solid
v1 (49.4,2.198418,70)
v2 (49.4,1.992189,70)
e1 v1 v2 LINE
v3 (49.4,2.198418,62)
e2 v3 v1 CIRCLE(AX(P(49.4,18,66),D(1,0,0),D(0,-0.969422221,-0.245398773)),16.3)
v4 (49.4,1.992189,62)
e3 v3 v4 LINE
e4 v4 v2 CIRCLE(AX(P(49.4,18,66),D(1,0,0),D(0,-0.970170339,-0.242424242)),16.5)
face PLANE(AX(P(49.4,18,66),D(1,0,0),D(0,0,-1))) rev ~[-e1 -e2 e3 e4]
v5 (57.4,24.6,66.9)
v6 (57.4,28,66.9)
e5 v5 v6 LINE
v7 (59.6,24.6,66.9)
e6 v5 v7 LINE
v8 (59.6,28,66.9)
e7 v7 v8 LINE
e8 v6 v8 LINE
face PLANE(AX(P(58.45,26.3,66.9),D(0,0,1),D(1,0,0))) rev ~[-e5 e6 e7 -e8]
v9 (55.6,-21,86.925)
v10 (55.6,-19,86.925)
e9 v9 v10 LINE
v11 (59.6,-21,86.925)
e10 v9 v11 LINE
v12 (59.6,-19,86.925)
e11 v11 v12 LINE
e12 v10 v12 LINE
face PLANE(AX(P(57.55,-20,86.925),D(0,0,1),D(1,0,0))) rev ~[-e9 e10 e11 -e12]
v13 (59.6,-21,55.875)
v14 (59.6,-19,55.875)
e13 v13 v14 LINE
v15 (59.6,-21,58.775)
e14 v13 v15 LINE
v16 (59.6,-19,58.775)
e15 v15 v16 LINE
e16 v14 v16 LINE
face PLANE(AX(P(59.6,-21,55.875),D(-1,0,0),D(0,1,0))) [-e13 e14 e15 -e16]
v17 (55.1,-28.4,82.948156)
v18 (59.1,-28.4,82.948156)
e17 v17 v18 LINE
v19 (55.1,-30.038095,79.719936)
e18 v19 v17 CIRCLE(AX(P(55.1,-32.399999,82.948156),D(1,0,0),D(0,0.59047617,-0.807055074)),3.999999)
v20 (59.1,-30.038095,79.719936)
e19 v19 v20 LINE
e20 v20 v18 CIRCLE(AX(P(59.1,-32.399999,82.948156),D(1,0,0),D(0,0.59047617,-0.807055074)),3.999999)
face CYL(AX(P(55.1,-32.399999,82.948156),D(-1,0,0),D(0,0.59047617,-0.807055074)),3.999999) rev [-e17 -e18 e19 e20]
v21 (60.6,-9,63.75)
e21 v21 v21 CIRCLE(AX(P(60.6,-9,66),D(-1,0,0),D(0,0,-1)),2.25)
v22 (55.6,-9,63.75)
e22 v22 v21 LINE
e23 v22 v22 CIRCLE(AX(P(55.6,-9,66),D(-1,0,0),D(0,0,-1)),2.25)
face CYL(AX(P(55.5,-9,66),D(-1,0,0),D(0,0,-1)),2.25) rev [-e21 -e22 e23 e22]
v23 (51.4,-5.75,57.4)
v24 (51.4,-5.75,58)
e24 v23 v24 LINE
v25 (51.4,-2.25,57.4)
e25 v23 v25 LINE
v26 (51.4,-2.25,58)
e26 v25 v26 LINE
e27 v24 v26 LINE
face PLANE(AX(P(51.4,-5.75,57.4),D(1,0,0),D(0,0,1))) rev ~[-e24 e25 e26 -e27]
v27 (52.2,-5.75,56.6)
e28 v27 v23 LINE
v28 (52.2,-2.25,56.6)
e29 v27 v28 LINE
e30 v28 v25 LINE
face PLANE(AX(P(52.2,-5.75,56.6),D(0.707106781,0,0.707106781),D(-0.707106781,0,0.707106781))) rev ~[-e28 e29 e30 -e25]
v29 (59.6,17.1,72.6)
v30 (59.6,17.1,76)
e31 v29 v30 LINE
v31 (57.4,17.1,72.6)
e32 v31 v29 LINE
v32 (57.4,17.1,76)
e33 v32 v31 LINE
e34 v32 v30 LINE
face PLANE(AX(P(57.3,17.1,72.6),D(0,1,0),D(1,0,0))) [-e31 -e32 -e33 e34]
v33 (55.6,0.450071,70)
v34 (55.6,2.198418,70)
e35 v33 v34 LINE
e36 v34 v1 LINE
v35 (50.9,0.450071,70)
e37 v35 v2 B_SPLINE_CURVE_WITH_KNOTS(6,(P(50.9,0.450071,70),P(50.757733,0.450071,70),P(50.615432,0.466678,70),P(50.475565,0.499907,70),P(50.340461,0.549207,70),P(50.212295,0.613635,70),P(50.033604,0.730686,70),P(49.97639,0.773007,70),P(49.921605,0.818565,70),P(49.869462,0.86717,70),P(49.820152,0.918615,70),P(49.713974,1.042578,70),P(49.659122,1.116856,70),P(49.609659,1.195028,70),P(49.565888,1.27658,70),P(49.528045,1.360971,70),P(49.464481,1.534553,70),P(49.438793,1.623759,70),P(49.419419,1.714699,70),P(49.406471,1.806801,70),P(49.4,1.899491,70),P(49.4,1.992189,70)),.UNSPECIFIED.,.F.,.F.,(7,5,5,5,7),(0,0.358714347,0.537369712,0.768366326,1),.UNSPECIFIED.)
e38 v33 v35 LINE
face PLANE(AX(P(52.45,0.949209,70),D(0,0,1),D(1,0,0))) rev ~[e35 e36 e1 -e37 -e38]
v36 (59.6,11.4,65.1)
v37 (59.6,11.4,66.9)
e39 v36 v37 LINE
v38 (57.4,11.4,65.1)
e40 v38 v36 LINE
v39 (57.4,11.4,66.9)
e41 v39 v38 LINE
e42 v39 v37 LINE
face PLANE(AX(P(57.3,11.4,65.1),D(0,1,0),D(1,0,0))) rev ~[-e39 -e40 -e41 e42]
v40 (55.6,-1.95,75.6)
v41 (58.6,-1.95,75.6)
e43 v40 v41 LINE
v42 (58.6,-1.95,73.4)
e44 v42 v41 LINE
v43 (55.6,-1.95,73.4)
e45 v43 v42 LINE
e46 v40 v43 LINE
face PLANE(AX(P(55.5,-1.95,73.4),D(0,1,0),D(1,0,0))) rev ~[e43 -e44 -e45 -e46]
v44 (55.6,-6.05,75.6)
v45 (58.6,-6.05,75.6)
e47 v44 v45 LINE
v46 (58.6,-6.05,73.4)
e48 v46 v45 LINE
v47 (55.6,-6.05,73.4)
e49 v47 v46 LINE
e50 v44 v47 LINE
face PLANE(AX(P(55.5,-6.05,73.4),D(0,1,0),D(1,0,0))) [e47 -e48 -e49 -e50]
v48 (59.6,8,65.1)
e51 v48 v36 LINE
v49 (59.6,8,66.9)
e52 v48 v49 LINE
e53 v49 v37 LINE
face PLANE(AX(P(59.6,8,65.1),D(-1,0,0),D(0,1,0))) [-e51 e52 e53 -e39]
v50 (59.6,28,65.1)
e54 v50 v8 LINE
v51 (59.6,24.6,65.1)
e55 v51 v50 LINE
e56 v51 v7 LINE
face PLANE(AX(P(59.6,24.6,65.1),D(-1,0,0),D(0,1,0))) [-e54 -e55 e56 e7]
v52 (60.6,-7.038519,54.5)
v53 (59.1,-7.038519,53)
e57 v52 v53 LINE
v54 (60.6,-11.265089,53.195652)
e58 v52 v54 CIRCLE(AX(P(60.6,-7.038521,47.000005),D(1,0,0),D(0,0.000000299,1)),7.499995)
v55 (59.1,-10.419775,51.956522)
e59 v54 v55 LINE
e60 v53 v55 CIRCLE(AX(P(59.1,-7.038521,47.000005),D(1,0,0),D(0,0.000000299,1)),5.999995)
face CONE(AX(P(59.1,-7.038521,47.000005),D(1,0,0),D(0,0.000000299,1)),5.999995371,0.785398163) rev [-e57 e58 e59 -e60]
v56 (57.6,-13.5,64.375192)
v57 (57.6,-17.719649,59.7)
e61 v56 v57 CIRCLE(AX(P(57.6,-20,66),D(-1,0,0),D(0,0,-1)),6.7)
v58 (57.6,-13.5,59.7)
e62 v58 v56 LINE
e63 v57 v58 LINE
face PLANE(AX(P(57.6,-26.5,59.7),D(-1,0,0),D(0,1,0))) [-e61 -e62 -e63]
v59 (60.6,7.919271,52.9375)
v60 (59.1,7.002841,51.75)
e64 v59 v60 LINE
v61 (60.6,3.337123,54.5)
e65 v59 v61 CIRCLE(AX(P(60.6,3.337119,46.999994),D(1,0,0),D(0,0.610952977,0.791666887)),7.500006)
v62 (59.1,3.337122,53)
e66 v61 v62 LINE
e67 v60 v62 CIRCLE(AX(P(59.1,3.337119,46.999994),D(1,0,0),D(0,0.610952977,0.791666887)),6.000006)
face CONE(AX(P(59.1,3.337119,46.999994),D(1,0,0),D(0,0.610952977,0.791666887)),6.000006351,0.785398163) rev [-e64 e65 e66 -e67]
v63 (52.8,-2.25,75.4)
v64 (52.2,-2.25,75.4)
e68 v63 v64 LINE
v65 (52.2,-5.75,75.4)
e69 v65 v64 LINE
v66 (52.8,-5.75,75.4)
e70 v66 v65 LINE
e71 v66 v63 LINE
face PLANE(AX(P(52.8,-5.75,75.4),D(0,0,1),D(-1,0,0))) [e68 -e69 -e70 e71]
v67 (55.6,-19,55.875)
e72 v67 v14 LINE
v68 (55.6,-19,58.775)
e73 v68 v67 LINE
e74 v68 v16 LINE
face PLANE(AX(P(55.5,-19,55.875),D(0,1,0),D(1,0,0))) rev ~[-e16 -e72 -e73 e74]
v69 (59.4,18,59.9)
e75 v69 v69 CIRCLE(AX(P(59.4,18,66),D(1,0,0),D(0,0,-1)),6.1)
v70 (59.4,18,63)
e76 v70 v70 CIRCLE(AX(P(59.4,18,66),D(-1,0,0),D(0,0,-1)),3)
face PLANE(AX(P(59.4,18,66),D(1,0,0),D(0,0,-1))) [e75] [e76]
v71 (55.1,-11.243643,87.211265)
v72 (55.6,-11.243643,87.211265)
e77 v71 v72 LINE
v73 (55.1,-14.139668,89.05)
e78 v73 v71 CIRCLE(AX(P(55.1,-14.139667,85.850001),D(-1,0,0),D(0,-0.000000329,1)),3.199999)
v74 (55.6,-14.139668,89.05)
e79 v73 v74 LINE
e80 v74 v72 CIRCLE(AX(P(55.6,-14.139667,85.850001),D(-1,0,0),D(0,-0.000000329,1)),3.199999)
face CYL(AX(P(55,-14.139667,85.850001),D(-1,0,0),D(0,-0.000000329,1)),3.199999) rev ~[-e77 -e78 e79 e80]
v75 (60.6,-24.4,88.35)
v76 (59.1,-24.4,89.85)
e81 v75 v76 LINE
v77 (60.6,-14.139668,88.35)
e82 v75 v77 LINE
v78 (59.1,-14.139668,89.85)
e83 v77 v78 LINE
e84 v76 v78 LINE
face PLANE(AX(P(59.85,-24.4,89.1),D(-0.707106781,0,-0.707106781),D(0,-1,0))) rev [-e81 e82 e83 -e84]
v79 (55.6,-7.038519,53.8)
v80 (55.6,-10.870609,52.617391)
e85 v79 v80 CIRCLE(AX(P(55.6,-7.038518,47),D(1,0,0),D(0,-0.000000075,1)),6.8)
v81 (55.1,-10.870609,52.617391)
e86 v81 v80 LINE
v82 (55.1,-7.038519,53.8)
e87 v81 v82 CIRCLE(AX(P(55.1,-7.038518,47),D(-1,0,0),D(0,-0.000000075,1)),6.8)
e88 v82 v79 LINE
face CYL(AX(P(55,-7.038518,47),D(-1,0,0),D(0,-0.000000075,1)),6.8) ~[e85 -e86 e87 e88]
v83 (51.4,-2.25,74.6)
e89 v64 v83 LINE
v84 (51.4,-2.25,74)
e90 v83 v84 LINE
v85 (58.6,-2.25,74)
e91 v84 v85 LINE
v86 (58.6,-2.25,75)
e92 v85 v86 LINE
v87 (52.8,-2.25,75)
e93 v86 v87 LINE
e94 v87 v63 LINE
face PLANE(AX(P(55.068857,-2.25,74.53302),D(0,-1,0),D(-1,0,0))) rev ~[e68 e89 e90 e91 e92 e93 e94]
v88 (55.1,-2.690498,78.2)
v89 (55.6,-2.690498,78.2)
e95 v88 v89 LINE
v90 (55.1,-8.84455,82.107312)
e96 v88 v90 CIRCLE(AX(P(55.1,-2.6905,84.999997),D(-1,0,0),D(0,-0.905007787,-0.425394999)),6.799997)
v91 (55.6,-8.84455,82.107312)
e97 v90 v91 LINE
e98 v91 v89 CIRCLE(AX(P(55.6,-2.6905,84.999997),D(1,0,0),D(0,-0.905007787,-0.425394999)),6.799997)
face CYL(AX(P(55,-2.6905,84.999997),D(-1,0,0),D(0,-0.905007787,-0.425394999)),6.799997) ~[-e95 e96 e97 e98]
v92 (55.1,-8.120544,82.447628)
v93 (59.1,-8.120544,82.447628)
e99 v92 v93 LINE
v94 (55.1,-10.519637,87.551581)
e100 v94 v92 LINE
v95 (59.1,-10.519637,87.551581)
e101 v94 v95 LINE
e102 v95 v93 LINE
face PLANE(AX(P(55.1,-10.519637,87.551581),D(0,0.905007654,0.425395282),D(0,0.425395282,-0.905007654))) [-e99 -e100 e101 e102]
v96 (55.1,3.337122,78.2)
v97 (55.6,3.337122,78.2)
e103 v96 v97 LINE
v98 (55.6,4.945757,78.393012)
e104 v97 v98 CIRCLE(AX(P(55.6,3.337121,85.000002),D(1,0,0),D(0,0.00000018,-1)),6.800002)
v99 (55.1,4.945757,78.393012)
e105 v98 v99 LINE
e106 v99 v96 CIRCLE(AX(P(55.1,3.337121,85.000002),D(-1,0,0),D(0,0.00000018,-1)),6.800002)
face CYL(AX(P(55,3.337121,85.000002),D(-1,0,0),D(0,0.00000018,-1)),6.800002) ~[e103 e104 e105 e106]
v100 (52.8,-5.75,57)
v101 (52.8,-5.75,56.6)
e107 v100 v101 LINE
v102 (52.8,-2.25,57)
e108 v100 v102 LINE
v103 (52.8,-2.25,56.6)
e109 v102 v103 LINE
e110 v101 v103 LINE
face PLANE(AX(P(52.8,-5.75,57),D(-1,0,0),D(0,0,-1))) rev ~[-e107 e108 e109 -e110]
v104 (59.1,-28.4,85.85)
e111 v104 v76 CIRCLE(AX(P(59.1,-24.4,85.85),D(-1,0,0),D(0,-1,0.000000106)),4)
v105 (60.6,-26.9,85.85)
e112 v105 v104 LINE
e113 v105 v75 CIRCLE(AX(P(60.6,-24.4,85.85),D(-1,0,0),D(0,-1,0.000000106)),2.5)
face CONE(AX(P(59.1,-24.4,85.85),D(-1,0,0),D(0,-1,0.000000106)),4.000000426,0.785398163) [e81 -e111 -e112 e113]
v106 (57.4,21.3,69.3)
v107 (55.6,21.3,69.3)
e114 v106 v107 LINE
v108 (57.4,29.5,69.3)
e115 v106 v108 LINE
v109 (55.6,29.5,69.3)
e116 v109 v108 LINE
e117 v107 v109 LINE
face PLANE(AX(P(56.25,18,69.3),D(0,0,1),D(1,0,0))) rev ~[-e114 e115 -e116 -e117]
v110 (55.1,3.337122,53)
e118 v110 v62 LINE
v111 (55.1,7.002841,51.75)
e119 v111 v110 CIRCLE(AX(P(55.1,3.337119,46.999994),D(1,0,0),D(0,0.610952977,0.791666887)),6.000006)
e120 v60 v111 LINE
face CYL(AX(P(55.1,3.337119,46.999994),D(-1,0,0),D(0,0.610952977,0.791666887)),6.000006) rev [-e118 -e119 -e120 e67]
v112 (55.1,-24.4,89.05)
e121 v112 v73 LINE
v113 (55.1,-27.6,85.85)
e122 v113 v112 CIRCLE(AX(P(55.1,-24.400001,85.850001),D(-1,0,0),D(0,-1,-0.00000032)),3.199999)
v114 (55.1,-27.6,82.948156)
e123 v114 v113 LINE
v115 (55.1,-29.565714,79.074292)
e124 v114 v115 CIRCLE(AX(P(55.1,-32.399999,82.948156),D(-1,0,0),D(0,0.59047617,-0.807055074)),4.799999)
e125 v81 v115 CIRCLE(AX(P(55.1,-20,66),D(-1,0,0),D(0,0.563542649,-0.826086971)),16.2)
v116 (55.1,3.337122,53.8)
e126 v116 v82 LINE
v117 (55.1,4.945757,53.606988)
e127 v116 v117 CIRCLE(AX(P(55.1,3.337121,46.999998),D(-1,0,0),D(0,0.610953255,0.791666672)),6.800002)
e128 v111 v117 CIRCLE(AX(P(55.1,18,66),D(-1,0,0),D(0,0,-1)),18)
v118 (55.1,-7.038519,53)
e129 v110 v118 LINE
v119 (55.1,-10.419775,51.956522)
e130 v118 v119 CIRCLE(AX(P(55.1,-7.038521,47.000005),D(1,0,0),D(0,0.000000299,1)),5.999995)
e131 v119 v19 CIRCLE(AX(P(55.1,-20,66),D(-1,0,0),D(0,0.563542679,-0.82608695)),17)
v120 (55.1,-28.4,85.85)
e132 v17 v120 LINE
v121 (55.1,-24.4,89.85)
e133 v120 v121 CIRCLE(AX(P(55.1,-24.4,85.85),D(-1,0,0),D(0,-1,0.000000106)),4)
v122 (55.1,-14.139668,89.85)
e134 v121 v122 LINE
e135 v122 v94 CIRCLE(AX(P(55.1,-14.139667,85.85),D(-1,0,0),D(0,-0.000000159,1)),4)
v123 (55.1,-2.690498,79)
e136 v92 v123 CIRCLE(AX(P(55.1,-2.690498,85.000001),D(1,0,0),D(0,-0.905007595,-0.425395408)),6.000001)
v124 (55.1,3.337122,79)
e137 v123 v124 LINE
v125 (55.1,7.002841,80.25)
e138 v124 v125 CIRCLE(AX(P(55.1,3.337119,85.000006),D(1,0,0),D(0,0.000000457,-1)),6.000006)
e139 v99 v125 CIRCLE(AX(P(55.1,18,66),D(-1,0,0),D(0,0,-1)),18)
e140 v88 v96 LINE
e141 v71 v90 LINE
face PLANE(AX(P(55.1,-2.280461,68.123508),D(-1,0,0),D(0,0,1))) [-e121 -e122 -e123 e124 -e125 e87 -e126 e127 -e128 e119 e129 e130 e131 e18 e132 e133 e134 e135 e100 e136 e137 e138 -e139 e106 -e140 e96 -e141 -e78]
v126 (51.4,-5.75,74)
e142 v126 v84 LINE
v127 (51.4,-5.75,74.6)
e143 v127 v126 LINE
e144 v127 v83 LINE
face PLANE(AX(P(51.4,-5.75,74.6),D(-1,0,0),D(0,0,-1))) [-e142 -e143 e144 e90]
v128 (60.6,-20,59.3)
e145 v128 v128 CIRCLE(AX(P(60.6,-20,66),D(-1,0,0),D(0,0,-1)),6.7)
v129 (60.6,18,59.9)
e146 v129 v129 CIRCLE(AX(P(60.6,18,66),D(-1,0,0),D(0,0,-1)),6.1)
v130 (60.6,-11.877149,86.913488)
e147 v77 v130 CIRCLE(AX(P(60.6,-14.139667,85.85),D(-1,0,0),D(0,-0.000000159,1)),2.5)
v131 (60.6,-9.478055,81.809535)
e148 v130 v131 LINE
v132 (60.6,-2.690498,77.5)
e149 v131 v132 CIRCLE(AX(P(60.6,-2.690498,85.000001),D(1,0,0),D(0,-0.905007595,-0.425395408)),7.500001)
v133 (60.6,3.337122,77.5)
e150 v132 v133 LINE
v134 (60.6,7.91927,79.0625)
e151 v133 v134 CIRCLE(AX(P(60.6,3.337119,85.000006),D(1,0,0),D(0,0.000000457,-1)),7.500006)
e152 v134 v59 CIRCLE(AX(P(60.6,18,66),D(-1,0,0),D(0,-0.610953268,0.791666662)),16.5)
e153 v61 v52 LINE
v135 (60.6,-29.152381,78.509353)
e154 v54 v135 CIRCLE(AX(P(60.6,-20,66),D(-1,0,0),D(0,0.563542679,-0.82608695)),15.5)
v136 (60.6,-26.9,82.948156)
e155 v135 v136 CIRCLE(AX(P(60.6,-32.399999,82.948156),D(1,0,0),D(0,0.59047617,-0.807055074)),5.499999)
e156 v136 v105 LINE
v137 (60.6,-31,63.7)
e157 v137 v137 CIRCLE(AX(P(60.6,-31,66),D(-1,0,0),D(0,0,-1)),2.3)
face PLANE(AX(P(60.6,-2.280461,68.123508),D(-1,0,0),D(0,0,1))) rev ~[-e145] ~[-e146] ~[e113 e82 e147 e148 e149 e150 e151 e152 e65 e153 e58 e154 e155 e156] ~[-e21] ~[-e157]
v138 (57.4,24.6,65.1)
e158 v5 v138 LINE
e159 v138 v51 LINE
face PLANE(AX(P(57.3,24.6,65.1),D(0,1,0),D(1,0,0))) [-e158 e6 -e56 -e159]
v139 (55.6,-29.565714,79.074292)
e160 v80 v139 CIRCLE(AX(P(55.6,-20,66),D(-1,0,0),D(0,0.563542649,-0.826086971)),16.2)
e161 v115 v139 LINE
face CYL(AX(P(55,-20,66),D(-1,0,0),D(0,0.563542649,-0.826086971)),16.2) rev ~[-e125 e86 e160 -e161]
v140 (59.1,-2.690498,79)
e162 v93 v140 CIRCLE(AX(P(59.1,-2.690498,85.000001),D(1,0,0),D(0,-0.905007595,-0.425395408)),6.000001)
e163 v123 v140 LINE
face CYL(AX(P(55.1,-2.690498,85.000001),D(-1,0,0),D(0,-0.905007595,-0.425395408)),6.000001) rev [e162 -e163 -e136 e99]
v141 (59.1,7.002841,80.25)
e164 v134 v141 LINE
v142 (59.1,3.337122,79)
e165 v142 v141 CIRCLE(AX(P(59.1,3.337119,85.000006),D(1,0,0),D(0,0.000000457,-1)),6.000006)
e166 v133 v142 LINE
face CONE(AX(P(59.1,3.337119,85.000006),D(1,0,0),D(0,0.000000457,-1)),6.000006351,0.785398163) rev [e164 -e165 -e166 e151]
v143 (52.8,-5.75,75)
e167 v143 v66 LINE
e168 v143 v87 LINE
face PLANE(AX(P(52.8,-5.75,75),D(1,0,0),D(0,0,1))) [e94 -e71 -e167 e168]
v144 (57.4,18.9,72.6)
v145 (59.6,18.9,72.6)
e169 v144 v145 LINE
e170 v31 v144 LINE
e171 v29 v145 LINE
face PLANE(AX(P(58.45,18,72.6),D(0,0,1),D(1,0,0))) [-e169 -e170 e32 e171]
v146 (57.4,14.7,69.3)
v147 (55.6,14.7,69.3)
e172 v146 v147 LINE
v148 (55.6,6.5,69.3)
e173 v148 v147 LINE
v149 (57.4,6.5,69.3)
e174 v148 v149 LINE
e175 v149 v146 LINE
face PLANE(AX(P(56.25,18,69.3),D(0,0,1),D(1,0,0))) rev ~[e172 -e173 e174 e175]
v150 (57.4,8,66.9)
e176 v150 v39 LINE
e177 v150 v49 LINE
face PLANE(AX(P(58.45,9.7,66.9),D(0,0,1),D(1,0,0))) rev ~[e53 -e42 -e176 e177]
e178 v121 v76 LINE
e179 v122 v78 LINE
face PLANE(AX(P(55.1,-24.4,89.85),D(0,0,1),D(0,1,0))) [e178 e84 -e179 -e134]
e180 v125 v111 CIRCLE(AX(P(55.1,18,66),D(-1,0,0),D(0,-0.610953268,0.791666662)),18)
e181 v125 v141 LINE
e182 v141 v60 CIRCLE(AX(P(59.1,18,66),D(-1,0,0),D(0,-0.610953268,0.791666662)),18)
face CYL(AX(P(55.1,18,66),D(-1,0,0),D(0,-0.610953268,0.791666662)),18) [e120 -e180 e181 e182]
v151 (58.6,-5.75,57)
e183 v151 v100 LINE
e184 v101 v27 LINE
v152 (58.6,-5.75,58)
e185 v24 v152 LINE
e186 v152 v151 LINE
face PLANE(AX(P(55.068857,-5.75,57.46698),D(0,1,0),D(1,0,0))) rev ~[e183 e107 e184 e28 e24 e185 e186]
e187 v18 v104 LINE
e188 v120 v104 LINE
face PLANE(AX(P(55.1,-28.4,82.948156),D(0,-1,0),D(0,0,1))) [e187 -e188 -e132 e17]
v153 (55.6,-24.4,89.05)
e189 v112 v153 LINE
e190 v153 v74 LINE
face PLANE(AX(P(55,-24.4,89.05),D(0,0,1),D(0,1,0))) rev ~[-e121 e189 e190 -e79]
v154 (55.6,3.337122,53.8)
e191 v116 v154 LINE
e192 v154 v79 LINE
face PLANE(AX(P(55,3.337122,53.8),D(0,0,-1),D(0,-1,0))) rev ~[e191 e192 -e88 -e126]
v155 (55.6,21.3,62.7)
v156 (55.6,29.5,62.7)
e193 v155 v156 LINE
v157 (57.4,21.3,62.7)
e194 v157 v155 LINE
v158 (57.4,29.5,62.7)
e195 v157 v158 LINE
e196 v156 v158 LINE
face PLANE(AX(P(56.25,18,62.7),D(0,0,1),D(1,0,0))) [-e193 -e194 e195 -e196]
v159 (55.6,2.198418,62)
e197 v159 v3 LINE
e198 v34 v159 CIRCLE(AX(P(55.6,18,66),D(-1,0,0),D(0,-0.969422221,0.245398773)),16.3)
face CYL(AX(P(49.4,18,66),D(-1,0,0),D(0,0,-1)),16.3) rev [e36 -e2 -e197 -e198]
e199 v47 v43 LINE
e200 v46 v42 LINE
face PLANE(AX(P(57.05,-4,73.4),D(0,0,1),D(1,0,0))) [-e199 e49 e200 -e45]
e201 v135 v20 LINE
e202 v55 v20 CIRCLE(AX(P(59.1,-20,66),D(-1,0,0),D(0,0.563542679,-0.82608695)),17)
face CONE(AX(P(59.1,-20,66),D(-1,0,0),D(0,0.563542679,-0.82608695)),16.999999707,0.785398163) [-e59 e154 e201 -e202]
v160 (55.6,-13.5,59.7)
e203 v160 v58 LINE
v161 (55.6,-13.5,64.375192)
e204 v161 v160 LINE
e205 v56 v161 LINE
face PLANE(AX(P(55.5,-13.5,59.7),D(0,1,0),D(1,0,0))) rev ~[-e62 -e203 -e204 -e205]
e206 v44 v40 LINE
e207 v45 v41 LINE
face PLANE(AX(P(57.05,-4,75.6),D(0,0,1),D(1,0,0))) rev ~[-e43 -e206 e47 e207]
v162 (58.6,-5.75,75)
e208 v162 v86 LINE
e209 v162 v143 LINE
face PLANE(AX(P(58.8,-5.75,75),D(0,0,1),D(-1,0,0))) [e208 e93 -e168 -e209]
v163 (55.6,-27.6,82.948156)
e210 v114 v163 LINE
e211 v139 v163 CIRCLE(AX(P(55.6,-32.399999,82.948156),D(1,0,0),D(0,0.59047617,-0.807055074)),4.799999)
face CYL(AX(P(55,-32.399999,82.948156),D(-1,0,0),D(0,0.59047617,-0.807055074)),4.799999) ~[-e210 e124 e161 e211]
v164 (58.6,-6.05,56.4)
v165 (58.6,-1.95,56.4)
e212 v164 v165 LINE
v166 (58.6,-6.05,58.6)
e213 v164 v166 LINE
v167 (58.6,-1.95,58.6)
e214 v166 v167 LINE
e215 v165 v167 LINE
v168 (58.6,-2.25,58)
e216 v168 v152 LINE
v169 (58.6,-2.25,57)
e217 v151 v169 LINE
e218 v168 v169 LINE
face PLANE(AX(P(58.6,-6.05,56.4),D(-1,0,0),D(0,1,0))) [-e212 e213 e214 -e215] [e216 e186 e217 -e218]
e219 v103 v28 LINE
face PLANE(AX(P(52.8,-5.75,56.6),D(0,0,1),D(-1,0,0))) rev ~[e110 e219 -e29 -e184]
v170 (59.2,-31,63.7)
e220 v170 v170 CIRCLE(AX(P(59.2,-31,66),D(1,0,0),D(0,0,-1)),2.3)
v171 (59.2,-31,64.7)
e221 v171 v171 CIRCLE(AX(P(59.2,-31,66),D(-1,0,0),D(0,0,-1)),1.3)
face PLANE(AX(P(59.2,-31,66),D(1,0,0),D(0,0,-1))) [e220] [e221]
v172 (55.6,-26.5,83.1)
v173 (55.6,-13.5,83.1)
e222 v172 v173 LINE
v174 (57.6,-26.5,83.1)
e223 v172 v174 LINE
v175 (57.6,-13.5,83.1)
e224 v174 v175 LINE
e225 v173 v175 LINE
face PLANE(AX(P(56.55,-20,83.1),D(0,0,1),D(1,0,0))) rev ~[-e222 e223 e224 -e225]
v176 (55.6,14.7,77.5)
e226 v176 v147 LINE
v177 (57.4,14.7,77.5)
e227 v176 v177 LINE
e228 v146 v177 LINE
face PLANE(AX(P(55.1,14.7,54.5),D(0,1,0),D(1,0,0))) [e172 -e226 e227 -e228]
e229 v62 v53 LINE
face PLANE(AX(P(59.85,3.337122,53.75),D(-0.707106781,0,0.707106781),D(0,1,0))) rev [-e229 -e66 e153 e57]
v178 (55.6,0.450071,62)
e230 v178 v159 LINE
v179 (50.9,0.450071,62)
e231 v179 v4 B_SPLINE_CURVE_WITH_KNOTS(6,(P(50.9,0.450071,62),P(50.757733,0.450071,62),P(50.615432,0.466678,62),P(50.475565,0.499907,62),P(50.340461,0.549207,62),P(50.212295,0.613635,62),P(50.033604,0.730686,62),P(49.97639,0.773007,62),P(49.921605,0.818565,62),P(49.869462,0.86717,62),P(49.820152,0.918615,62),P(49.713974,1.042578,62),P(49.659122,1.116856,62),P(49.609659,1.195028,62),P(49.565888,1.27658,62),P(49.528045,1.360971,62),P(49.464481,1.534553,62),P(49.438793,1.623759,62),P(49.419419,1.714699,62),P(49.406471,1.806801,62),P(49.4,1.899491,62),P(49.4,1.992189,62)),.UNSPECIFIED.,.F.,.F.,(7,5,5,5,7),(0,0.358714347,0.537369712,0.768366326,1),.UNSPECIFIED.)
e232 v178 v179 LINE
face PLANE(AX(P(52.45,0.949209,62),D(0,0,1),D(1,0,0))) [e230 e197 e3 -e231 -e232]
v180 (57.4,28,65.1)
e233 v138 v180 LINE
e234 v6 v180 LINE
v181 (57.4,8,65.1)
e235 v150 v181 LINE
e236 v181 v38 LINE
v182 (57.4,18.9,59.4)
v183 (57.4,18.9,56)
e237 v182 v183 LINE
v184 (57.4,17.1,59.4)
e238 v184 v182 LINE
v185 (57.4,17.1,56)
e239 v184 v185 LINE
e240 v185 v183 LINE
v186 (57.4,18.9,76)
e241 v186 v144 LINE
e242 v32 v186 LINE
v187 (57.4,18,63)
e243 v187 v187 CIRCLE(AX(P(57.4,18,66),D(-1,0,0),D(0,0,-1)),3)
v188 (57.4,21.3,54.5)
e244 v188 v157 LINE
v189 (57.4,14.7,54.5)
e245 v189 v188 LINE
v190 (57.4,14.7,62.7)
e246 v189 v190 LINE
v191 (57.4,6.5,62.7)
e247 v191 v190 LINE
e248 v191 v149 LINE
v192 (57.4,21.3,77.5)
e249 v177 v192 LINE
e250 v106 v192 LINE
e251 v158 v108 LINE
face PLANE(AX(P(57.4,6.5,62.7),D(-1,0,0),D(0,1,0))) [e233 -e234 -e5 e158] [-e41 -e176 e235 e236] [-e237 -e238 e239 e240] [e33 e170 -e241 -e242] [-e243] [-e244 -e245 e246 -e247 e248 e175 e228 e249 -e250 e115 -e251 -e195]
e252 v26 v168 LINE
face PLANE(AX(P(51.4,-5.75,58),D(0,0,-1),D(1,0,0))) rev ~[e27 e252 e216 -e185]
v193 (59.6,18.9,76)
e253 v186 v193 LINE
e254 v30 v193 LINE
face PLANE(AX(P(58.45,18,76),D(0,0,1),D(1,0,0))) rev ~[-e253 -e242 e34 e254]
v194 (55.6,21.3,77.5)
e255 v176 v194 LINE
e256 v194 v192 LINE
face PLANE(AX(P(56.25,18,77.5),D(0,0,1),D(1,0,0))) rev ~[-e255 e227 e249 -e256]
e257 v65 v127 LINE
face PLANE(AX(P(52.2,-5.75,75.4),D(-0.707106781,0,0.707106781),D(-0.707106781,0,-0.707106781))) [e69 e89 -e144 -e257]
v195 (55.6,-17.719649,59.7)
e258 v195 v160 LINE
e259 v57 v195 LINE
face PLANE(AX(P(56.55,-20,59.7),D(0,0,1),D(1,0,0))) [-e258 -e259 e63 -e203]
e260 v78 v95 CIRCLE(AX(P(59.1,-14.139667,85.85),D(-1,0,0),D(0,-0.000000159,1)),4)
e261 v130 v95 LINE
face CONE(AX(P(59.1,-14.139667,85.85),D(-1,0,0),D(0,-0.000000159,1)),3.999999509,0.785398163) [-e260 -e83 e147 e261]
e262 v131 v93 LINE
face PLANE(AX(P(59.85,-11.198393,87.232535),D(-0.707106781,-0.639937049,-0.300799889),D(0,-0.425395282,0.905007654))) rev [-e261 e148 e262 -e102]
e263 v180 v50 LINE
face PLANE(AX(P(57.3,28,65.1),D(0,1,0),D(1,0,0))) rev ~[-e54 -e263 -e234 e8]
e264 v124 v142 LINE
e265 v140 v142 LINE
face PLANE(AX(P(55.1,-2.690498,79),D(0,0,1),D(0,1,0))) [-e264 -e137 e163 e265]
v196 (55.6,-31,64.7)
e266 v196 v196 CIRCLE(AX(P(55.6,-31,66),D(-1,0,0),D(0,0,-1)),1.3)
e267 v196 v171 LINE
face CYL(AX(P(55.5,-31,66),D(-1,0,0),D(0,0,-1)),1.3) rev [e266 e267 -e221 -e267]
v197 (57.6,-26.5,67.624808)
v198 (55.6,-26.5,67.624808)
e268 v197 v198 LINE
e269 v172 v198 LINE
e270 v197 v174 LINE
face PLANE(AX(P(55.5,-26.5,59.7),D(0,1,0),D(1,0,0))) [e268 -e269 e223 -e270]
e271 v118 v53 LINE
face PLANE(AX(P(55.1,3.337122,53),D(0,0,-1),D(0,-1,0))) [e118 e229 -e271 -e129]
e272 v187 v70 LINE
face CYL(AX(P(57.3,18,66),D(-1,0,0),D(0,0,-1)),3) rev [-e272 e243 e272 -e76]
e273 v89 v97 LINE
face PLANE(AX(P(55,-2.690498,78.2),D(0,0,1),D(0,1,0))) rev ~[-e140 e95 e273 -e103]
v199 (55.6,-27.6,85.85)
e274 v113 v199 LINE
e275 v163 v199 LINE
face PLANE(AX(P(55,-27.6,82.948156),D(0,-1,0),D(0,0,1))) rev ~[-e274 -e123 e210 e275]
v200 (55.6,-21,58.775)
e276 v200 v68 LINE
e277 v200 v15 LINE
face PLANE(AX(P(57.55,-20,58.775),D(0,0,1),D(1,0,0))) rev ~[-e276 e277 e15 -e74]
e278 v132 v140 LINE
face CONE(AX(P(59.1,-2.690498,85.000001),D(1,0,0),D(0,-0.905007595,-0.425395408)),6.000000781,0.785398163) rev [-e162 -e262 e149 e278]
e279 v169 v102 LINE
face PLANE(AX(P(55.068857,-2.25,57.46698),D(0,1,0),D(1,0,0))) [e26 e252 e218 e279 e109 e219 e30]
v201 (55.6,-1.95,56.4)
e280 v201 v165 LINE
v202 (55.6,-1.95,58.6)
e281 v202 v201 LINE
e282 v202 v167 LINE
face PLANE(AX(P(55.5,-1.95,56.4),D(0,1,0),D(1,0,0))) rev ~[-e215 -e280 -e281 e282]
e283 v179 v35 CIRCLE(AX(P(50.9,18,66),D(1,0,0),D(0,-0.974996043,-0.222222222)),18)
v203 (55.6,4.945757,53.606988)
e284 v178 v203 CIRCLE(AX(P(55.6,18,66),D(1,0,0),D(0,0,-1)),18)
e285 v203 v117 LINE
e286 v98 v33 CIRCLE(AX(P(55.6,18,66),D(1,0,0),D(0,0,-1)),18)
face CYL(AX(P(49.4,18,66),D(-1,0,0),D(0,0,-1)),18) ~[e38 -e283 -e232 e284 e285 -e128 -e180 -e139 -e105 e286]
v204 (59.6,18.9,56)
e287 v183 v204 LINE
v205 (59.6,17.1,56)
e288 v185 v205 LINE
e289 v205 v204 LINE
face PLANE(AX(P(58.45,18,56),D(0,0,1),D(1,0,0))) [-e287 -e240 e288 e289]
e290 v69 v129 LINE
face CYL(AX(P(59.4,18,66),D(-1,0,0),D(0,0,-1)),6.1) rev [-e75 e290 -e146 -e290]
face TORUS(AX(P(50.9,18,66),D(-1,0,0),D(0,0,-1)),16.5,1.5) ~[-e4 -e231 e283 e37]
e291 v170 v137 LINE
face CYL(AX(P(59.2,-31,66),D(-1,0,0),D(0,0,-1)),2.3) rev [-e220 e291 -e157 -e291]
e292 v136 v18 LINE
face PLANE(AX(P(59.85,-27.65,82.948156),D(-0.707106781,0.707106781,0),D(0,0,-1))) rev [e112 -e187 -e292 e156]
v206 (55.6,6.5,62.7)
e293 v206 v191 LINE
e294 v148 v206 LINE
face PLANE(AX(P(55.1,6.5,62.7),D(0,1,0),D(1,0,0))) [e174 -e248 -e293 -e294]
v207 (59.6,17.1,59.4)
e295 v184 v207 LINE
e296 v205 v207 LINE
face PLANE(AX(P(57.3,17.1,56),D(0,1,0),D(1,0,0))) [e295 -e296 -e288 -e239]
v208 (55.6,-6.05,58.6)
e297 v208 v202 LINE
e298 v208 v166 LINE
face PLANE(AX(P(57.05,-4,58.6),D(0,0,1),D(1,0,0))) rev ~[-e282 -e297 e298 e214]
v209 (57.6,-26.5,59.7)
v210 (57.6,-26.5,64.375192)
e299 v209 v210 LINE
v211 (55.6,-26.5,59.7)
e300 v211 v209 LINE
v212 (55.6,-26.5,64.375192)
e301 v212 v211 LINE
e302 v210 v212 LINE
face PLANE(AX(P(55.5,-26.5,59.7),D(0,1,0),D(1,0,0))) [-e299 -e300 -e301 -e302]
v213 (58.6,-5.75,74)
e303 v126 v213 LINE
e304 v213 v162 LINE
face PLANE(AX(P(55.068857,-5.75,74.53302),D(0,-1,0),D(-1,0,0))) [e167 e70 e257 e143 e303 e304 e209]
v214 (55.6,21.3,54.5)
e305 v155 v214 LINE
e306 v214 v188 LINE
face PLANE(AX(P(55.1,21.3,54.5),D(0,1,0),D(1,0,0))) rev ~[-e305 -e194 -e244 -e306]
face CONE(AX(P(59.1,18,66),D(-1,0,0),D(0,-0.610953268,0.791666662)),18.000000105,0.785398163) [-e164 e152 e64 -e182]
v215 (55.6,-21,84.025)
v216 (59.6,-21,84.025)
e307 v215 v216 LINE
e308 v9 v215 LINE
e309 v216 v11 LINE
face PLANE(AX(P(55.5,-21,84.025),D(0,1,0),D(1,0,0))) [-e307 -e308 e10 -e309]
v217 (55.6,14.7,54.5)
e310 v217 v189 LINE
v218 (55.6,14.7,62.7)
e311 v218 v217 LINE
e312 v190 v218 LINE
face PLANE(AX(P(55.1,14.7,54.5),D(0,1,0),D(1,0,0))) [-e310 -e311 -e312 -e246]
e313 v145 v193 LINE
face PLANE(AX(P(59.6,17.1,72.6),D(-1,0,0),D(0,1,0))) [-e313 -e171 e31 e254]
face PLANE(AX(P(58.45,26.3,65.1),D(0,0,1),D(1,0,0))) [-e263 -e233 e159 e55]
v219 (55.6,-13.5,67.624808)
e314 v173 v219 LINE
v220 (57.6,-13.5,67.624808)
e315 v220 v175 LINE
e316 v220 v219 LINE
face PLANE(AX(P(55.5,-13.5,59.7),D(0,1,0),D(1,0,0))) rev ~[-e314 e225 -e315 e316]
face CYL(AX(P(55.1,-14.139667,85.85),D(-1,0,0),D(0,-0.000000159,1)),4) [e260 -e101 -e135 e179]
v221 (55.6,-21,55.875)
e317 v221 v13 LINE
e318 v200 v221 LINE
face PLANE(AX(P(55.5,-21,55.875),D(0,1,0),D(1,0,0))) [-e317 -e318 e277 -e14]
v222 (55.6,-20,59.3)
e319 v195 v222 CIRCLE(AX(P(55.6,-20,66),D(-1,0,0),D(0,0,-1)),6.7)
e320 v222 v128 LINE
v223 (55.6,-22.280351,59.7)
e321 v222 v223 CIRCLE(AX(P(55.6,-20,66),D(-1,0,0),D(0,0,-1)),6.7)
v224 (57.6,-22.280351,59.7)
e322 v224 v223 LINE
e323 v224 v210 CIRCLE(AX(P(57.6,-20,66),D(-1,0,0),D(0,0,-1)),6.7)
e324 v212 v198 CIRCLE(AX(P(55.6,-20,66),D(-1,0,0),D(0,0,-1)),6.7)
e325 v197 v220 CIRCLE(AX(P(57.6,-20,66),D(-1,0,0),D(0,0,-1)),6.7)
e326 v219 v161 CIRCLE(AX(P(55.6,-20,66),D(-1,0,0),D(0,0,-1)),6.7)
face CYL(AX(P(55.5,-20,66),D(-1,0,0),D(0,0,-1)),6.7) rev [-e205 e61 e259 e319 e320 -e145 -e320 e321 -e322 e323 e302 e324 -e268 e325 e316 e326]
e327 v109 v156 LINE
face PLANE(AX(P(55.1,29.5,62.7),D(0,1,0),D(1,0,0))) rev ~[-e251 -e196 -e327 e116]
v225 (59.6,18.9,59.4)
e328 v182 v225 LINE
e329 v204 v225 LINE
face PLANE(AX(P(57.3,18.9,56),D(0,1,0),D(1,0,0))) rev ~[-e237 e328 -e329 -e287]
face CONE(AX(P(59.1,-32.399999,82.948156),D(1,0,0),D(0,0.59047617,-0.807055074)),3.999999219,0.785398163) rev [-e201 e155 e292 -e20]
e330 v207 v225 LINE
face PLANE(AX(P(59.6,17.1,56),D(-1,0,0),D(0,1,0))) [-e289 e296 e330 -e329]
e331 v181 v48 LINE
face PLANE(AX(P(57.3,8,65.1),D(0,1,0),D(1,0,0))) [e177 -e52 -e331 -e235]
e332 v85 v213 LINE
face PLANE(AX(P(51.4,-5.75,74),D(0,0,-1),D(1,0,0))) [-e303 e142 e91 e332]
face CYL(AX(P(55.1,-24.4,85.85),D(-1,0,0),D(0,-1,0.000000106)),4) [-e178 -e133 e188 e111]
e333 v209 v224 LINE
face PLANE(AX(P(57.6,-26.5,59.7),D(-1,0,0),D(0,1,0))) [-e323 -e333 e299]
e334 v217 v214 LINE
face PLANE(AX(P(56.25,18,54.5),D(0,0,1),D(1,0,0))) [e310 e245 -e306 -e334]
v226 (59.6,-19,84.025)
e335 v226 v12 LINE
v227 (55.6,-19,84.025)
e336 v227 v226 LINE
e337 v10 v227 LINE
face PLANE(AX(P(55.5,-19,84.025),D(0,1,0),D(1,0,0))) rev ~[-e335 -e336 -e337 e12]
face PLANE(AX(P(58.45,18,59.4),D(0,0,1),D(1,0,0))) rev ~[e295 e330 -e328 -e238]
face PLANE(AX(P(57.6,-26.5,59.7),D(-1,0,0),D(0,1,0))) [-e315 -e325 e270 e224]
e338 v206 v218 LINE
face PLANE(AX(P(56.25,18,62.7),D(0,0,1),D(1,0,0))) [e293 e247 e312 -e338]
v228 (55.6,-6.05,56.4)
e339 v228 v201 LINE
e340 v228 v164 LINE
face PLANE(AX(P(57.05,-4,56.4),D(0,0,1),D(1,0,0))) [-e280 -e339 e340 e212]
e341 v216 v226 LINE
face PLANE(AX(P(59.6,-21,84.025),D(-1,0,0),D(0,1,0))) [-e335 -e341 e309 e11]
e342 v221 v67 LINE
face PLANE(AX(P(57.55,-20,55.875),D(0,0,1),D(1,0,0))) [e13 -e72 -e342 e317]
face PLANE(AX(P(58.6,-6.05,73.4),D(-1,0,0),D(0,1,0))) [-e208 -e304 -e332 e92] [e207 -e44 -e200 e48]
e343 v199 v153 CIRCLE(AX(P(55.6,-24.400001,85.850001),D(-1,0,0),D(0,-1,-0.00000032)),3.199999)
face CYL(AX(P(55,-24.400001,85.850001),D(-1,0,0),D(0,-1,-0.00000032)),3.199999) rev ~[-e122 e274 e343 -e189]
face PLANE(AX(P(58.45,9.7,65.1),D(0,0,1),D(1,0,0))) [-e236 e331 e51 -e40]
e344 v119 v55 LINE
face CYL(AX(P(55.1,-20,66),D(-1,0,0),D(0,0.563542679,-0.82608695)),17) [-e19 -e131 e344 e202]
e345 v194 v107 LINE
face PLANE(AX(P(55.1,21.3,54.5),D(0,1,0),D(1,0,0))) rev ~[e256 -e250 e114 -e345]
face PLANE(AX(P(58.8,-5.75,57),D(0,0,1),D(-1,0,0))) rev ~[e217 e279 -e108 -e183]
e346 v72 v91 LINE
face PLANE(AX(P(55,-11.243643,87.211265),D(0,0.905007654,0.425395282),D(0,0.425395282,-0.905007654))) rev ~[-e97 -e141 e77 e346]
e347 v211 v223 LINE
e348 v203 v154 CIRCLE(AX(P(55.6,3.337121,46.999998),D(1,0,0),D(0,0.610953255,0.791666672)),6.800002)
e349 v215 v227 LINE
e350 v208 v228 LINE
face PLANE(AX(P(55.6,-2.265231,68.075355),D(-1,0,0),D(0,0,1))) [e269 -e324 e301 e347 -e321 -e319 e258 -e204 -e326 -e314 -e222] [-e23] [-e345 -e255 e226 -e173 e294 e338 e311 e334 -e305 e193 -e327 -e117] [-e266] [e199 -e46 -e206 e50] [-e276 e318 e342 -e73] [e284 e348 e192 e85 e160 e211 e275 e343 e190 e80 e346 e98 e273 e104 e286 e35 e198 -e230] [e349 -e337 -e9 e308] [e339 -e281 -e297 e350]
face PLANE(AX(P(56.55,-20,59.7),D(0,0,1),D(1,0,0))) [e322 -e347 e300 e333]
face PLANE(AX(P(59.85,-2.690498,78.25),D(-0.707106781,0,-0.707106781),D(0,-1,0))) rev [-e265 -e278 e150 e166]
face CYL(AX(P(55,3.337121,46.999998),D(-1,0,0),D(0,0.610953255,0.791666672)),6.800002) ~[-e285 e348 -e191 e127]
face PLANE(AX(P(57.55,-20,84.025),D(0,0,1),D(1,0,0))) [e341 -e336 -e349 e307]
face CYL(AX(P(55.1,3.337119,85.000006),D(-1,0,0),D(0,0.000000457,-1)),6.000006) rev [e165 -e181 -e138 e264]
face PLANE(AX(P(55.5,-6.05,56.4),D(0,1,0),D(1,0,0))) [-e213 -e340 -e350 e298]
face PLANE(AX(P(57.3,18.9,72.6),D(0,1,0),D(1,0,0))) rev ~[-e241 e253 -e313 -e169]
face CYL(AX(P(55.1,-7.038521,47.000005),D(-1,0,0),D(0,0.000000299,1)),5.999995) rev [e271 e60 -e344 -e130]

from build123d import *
from build123d.topology import SkipClean

# Parameters (mm, degrees)
BOSS_EXTRUDE1_START  = 55.1
BOSS_EXTRUDE1_DEPTH  = 5.5
BOSS_EXTRUDE2_START  = 55
BOSS_EXTRUDE2_DEPTH  = 0.6
BOSS_EXTRUDE3_START  = 49.4
SKETCH3_R            = 18
SKETCH3_R_2          = 16.3
BOSS_EXTRUDE3_DEPTH  = 6.2
CHAMFER1_SIZE        = 1.5
FILLET1_R            = 1.5
BOSS_EXTRUDE4_START  = 62.7
SKETCH4_W            = 2.3
SKETCH4_H            = 23
BOSS_EXTRUDE4_DEPTH  = 6.6
BOSS_EXTRUDE5_START  = 54.5
SKETCH5_W            = 2.3
SKETCH5_H            = 6.6
BOSS_EXTRUDE5_DEPTH  = 23
BOSS_EXTRUDE6_START  = 55.1
SKETCH6_R            = 4.6
BOSS_EXTRUDE6_DEPTH  = 2.3
BOSS_EXTRUDE7_START  = 59.4
SKETCH7_R            = 6.1
BOSS_EXTRUDE7_DEPTH  = 1.7
BOSS_EXTRUDE8_START  = 57.3
SKETCH8_R            = 3
BOSS_EXTRUDE8_DEPTH  = 2.2
BOSS_EXTRUDE9_START  = 65.1
SKETCH9_W            = 2.3
SKETCH9_H            = 3.4
BOSS_EXTRUDE9_DEPTH  = 1.8
BOSS_EXTRUDE10_START = 72.6
SKETCH10_W           = 2.3
SKETCH10_H           = 1.8
BOSS_EXTRUDE10_DEPTH = 3.4
BOSS_EXTRUDE11_START = 65.1
SKETCH11_W           = 2.3
SKETCH11_H           = 3.4
BOSS_EXTRUDE11_DEPTH = 1.8
BOSS_EXTRUDE12_START = 56
SKETCH12_W           = 2.3
SKETCH12_H           = 1.8
BOSS_EXTRUDE12_DEPTH = 3.4
BOSS_EXTRUDE13_START = 62
SKETCH13_W           = 6.3
SKETCH13_H           = 3.098418
BOSS_EXTRUDE13_DEPTH = 8
BOSS_EXTRUDE14_START = 55.875
SKETCH14_W           = 4.1
SKETCH14_H           = 2
BOSS_EXTRUDE14_DEPTH = 2.9
BOSS_EXTRUDE15_START = 84.025
SKETCH15_W           = 4.1
SKETCH15_H           = 2
BOSS_EXTRUDE15_DEPTH = 2.9
BOSS_EXTRUDE16_START = 59.7
SKETCH16_W           = 2.1
SKETCH16_H           = 13
BOSS_EXTRUDE16_DEPTH = 23.4
BOSS_EXTRUDE17_START = 55.5
SKETCH17_R           = 6.7
BOSS_EXTRUDE17_DEPTH = 5.6
BOSS_EXTRUDE18_START = 55.5
SKETCH18_R           = 2.25
BOSS_EXTRUDE18_DEPTH = 5.6
BOSS_EXTRUDE19_START = 59.2
SKETCH19_R           = 2.3
BOSS_EXTRUDE19_DEPTH = 1.9
BOSS_EXTRUDE20_START = 55.5
SKETCH20_R           = 1.3
BOSS_EXTRUDE20_DEPTH = 3.75
BOSS_EXTRUDE21_START = 56.4
SKETCH21_W           = 3.1
SKETCH21_H           = 4.1
BOSS_EXTRUDE21_DEPTH = 2.2
BOSS_EXTRUDE22_START = -5.75
BOSS_EXTRUDE22_DEPTH = 3.5
BOSS_EXTRUDE23_START = 73.4
SKETCH23_W           = 3.1
SKETCH23_H           = 4.1
BOSS_EXTRUDE23_DEPTH = 2.2
BOSS_EXTRUDE24_START = -5.75
BOSS_EXTRUDE24_DEPTH = 3.5


with BuildPart() as part:
    # Sketch1 → Boss-Extrude1 (new body)
    with BuildSketch(Plane(origin=(0, 0, 0), x_dir=(0, 0, -1), z_dir=(1, 0, 0)).offset(BOSS_EXTRUDE1_START)):
        with BuildLine():
            Line((-53, 3.337122), (-53, -7.038519))
            ThreePointArc((-53, -7.038519), (-52.733199, -8.807822), (-51.956522, -10.419775))
            ThreePointArc((-51.956522, -10.419775), (-56.189506, -33.883595), (-79.719936, -30.038095))
            ThreePointArc((-79.719936, -30.038095), (-81.138131, -28.832955), (-82.948156, -28.4))
            Line((-82.948156, -28.4), (-85.85, -28.4))
            ThreePointArc((-85.85, -28.4), (-88.678427, -27.228427), (-89.85, -24.4))
            Line((-89.85, -24.4), (-89.85, -14.139668))
            ThreePointArc((-89.85, -14.139668), (-89.226857, -11.995644), (-87.551581, -10.519637))
            Line((-87.551581, -10.519637), (-82.447628, -8.120544))
            ThreePointArc((-82.447628, -8.120544), (-79.934715, -5.906534), (-79, -2.690498))
            Line((-79, -2.690498), (-79, 3.337122))
            ThreePointArc((-79, 3.337122), (-79.321092, 5.273613), (-80.25, 7.002841))
            ThreePointArc((-80.25, 7.002841), (-66, 36), (-51.75, 7.002841))
            ThreePointArc((-51.75, 7.002841), (-52.678908, 5.273613), (-53, 3.337122))
        make_face()
    extrude(amount=BOSS_EXTRUDE1_DEPTH)


with BuildPart() as body_2:
    # Sketch2 → Boss-Extrude2 (new body)
    with BuildSketch(Plane(origin=(0, 0, 0), x_dir=(0, 0, -1), z_dir=(1, 0, 0)).offset(BOSS_EXTRUDE2_START)):
        with BuildLine():
            Line((-53.8, 3.337122), (-53.8, -7.038519))
            ThreePointArc((-53.8, -7.038519), (-53.497625, -9.043729), (-52.617391, -10.870609))
            ThreePointArc((-52.617391, -10.870609), (-56.651176, -33.230249), (-79.074292, -29.565714))
            ThreePointArc((-79.074292, -29.565714), (-80.776126, -28.119546), (-82.948156, -27.6))
            Line((-82.948156, -27.6), (-85.85, -27.6))
            ThreePointArc((-85.85, -27.6), (-88.112742, -26.662742), (-89.05, -24.4))
            Line((-89.05, -24.4), (-89.05, -14.139668))
            ThreePointArc((-89.05, -14.139668), (-88.551486, -12.424449), (-87.211265, -11.243643))
            Line((-87.211265, -11.243643), (-82.107312, -8.84455))
            ThreePointArc((-82.107312, -8.84455), (-79.259343, -6.335339), (-78.2, -2.690498))
            Line((-78.2, -2.690498), (-78.2, 3.337122))
            ThreePointArc((-78.2, 3.337122), (-78.563904, 5.531812), (-79.616667, 7.491604))
            ThreePointArc((-79.616667, 7.491604), (-66, 35.2), (-52.383333, 7.491604))
            ThreePointArc((-52.383333, 7.491604), (-53.436096, 5.531812), (-53.8, 3.337122))
        make_face()
    extrude(amount=BOSS_EXTRUDE2_DEPTH)


with BuildPart() as part_1:
    add(part.part)

    # Combine1: cut body 2
    add(body_2.part, mode=Mode.SUBTRACT)

    # Sketch3 → Boss-Extrude3 (add)
    with BuildSketch(Plane(origin=(0, 0, 0), x_dir=(0, 0, -1), z_dir=(1, 0, 0)).offset(BOSS_EXTRUDE3_START)):
        with Locations((-66, 18)):
            Circle(SKETCH3_R)
        with Locations((-66, 18)):
            Circle(SKETCH3_R_2, mode=Mode.SUBTRACT)
    extrude(amount=BOSS_EXTRUDE3_DEPTH)

    # Chamfer1
    chamfer1_edges = [part_1.edges().sort_by_distance(p)[0] for p in [
        (60.6, -5.906534, 79.934715),
        (60.6, -9.320091, 84.999605),
        (60.6, 0.323312, 79),
        (60.6, -11.995644, 89.226857),
        (60.6, 5.273613, 79.321092),
        (60.6, -19.269834, 89.85),
        (60.6, 36, 66),
        (60.6, -27.228427, 88.678427),
        (60.6, 5.273613, 52.678908),
        (60.6, -28.4, 84.399078),
        (60.6, -1.850698, 53),
        (60.6, -28.832955, 81.138131),
        (60.6, -8.807822, 52.733199),
        (60.6, -33.883595, 56.189506),
    ]]
    chamfer(chamfer1_edges, length=CHAMFER1_SIZE)

    # Fillet1
    fillet1_edges = [part_1.edges().sort_by_distance(p)[0] for p in [
        (49.4, 18, 84),
    ]]
    fillet(fillet1_edges, radius=FILLET1_R)


with BuildPart() as body_2_2:
    # Sketch4 → Boss-Extrude4 (new body)
    with BuildSketch(Plane.XY.offset(BOSS_EXTRUDE4_START)):
        with Locations((56.25, 18)):
            Rectangle(SKETCH4_W, SKETCH4_H)
    extrude(amount=BOSS_EXTRUDE4_DEPTH)


with BuildPart() as part_2:
    add(part_1.part)

    # Combine2: cut body 2 2
    add(body_2_2.part, mode=Mode.SUBTRACT)


with BuildPart() as body_2_3:
    # Sketch5 → Boss-Extrude5 (new body)
    with BuildSketch(Plane.XY.offset(BOSS_EXTRUDE5_START)):
        with Locations((56.25, 18)):
            Rectangle(SKETCH5_W, SKETCH5_H)
    extrude(amount=BOSS_EXTRUDE5_DEPTH)


with BuildPart() as part_3:
    add(part_2.part)

    # Combine3: cut body 2 3
    add(body_2_3.part, mode=Mode.SUBTRACT)


with BuildPart() as body_2_4:
    # Sketch6 → Boss-Extrude6 (new body)
    with BuildSketch(Plane(origin=(0, 0, 0), x_dir=(0, 0, -1), z_dir=(1, 0, 0)).offset(BOSS_EXTRUDE6_START)):
        with Locations((-66, 18)):
            Circle(SKETCH6_R)
    extrude(amount=BOSS_EXTRUDE6_DEPTH)


with BuildPart() as part_4:
    add(part_3.part)

    # Combine4: cut body 2 4
    add(body_2_4.part, mode=Mode.SUBTRACT)


with BuildPart() as body_2_5:
    # Sketch7 → Boss-Extrude7 (new body)
    with BuildSketch(Plane(origin=(0, 0, 0), x_dir=(0, 0, -1), z_dir=(1, 0, 0)).offset(BOSS_EXTRUDE7_START)):
        with Locations((-66, 18)):
            Circle(SKETCH7_R)
    extrude(amount=BOSS_EXTRUDE7_DEPTH)


with BuildPart() as part_5:
    add(part_4.part)

    # Combine5: cut body 2 5
    add(body_2_5.part, mode=Mode.SUBTRACT)


with BuildPart() as body_2_6:
    # Sketch8 → Boss-Extrude8 (new body)
    with BuildSketch(Plane(origin=(0, 0, 0), x_dir=(0, 0, -1), z_dir=(1, 0, 0)).offset(BOSS_EXTRUDE8_START)):
        with Locations((-66, 18)):
            Circle(SKETCH8_R)
    extrude(amount=BOSS_EXTRUDE8_DEPTH)


with BuildPart() as part_6:
    add(part_5.part)

    # Combine6: cut body 2 6
    add(body_2_6.part, mode=Mode.SUBTRACT)


with BuildPart() as body_2_7:
    # Sketch9 → Boss-Extrude9 (new body)
    with BuildSketch(Plane.XY.offset(BOSS_EXTRUDE9_START)):
        with Locations((58.45, 26.3)):
            Rectangle(SKETCH9_W, SKETCH9_H)
    extrude(amount=BOSS_EXTRUDE9_DEPTH)


with BuildPart() as part_7:
    add(part_6.part)

    # Combine7: cut body 2 7
    add(body_2_7.part, mode=Mode.SUBTRACT)


with BuildPart() as body_2_8:
    # Sketch10 → Boss-Extrude10 (new body)
    with BuildSketch(Plane.XY.offset(BOSS_EXTRUDE10_START)):
        with Locations((58.45, 18)):
            Rectangle(SKETCH10_W, SKETCH10_H)
    extrude(amount=BOSS_EXTRUDE10_DEPTH)


with BuildPart() as part_8:
    add(part_7.part)

    # Combine8: cut body 2 8
    add(body_2_8.part, mode=Mode.SUBTRACT)


with BuildPart() as body_2_9:
    # Sketch11 → Boss-Extrude11 (new body)
    with BuildSketch(Plane.XY.offset(BOSS_EXTRUDE11_START)):
        with Locations((58.45, 9.7)):
            Rectangle(SKETCH11_W, SKETCH11_H)
    extrude(amount=BOSS_EXTRUDE11_DEPTH)


with BuildPart() as part_9:
    add(part_8.part)

    # Combine9: cut body 2 9
    add(body_2_9.part, mode=Mode.SUBTRACT)


with BuildPart() as body_2_10:
    # Sketch12 → Boss-Extrude12 (new body)
    with BuildSketch(Plane.XY.offset(BOSS_EXTRUDE12_START)):
        with Locations((58.45, 18)):
            Rectangle(SKETCH12_W, SKETCH12_H)
    extrude(amount=BOSS_EXTRUDE12_DEPTH)


with BuildPart() as part_10:
    add(part_9.part)

    # Combine10: cut body 2 10
    add(body_2_10.part, mode=Mode.SUBTRACT)


with BuildPart() as body_2_11:
    # Sketch13 → Boss-Extrude13 (new body)
    with BuildSketch(Plane.XY.offset(BOSS_EXTRUDE13_START)):
        with Locations((52.45, 0.949209)):
            Rectangle(SKETCH13_W, SKETCH13_H)
    extrude(amount=BOSS_EXTRUDE13_DEPTH)


with BuildPart() as part_11:
    add(part_10.part)

    # Combine11: cut body 2 11
    add(body_2_11.part, mode=Mode.SUBTRACT)


with BuildPart() as body_2_12:
    # Sketch14 → Boss-Extrude14 (new body)
    with BuildSketch(Plane.XY.offset(BOSS_EXTRUDE14_START)):
        with Locations((57.55, -20)):
            Rectangle(SKETCH14_W, SKETCH14_H)
    extrude(amount=BOSS_EXTRUDE14_DEPTH)


with BuildPart() as part_12:
    add(part_11.part)

    # Combine12: cut body 2 12
    add(body_2_12.part, mode=Mode.SUBTRACT)


with BuildPart() as body_2_13:
    # Sketch15 → Boss-Extrude15 (new body)
    with BuildSketch(Plane.XY.offset(BOSS_EXTRUDE15_START)):
        with Locations((57.55, -20)):
            Rectangle(SKETCH15_W, SKETCH15_H)
    extrude(amount=BOSS_EXTRUDE15_DEPTH)


with BuildPart() as part_13:
    add(part_12.part)

    # Combine13: cut body 2 13
    add(body_2_13.part, mode=Mode.SUBTRACT)


with BuildPart() as body_2_14:
    # Sketch16 → Boss-Extrude16 (new body)
    with BuildSketch(Plane.XY.offset(BOSS_EXTRUDE16_START)):
        with Locations((56.55, -20)):
            Rectangle(SKETCH16_W, SKETCH16_H)
    extrude(amount=BOSS_EXTRUDE16_DEPTH)


with BuildPart() as part_14:
    add(part_13.part)

    # Combine14: cut body 2 14
    add(body_2_14.part, mode=Mode.SUBTRACT)


with BuildPart() as body_2_15:
    # Sketch17 → Boss-Extrude17 (new body)
    with BuildSketch(Plane(origin=(0, 0, 0), x_dir=(0, 0, -1), z_dir=(1, 0, 0)).offset(BOSS_EXTRUDE17_START)):
        with Locations((-66, -20)):
            Circle(SKETCH17_R)
    extrude(amount=BOSS_EXTRUDE17_DEPTH)


with BuildPart() as part_15:
    add(part_14.part)

    # Combine15: cut body 2 15
    add(body_2_15.part, mode=Mode.SUBTRACT)


with BuildPart() as body_2_16:
    # Sketch18 → Boss-Extrude18 (new body)
    with BuildSketch(Plane(origin=(0, 0, 0), x_dir=(0, 0, -1), z_dir=(1, 0, 0)).offset(BOSS_EXTRUDE18_START)):
        with Locations((-66, -9)):
            Circle(SKETCH18_R)
    extrude(amount=BOSS_EXTRUDE18_DEPTH)


with BuildPart() as part_16:
    add(part_15.part)

    # Combine16: cut body 2 16
    add(body_2_16.part, mode=Mode.SUBTRACT)


with BuildPart() as body_2_17:
    # Sketch19 → Boss-Extrude19 (new body)
    with BuildSketch(Plane(origin=(0, 0, 0), x_dir=(0, 0, -1), z_dir=(1, 0, 0)).offset(BOSS_EXTRUDE19_START)):
        with Locations((-66, -31)):
            Circle(SKETCH19_R)
    extrude(amount=BOSS_EXTRUDE19_DEPTH)


with BuildPart() as part_17:
    add(part_16.part)

    # Combine17: cut body 2 17
    add(body_2_17.part, mode=Mode.SUBTRACT)


with BuildPart() as body_2_18:
    # Sketch20 → Boss-Extrude20 (new body)
    with BuildSketch(Plane(origin=(0, 0, 0), x_dir=(0, 0, -1), z_dir=(1, 0, 0)).offset(BOSS_EXTRUDE20_START)):
        with Locations((-66, -31)):
            Circle(SKETCH20_R)
    extrude(amount=BOSS_EXTRUDE20_DEPTH)


with BuildPart() as part_18:
    add(part_17.part)

    # Combine18: cut body 2 18
    add(body_2_18.part, mode=Mode.SUBTRACT)


with BuildPart() as body_2_19:
    # Sketch21 → Boss-Extrude21 (new body)
    with BuildSketch(Plane.XY.offset(BOSS_EXTRUDE21_START)):
        with Locations((57.05, -4)):
            Rectangle(SKETCH21_W, SKETCH21_H)
    extrude(amount=BOSS_EXTRUDE21_DEPTH)


with BuildPart() as part_19:
    add(part_18.part)

    # Combine19: cut body 2 19
    add(body_2_19.part, mode=Mode.SUBTRACT)

    # Sketch22 → Boss-Extrude22 (add)
    with SkipClean():  # the faces are left unmerged after this step: merging them gives an invalid solid
        with BuildSketch(Plane(origin=(0, 0, 0), x_dir=(1, 0, 0), z_dir=(0, 1, 0)).offset(BOSS_EXTRUDE22_START)):
            Polygon((58.8, -58), (58.8, -57), (52.8, -57), (52.8, -56.6), (52.2, -56.6), (51.4, -57.4), (51.4, -58), align=None)
        extrude(amount=BOSS_EXTRUDE22_DEPTH)


with BuildPart() as body_2_20:
    # Sketch23 → Boss-Extrude23 (new body)
    with BuildSketch(Plane.XY.offset(BOSS_EXTRUDE23_START)):
        with Locations((57.05, -4)):
            Rectangle(SKETCH23_W, SKETCH23_H)
    extrude(amount=BOSS_EXTRUDE23_DEPTH)


with BuildPart() as part_20:
    add(part_19.part)

    # Combine20: cut body 2 20
    add(body_2_20.part, mode=Mode.SUBTRACT)

    # Sketch24 → Boss-Extrude24 (add)
    with SkipClean():  # the faces are left unmerged after this step: merging them gives an invalid solid
        with BuildSketch(Plane(origin=(0, 0, 0), x_dir=(1, 0, 0), z_dir=(0, 1, 0)).offset(BOSS_EXTRUDE24_START)):
            Polygon((58.8, -74), (58.8, -75), (52.8, -75), (52.8, -75.4), (52.2, -75.4), (51.4, -74.6), (51.4, -74), align=None)
        extrude(amount=BOSS_EXTRUDE24_DEPTH)


solid = part_20.part
